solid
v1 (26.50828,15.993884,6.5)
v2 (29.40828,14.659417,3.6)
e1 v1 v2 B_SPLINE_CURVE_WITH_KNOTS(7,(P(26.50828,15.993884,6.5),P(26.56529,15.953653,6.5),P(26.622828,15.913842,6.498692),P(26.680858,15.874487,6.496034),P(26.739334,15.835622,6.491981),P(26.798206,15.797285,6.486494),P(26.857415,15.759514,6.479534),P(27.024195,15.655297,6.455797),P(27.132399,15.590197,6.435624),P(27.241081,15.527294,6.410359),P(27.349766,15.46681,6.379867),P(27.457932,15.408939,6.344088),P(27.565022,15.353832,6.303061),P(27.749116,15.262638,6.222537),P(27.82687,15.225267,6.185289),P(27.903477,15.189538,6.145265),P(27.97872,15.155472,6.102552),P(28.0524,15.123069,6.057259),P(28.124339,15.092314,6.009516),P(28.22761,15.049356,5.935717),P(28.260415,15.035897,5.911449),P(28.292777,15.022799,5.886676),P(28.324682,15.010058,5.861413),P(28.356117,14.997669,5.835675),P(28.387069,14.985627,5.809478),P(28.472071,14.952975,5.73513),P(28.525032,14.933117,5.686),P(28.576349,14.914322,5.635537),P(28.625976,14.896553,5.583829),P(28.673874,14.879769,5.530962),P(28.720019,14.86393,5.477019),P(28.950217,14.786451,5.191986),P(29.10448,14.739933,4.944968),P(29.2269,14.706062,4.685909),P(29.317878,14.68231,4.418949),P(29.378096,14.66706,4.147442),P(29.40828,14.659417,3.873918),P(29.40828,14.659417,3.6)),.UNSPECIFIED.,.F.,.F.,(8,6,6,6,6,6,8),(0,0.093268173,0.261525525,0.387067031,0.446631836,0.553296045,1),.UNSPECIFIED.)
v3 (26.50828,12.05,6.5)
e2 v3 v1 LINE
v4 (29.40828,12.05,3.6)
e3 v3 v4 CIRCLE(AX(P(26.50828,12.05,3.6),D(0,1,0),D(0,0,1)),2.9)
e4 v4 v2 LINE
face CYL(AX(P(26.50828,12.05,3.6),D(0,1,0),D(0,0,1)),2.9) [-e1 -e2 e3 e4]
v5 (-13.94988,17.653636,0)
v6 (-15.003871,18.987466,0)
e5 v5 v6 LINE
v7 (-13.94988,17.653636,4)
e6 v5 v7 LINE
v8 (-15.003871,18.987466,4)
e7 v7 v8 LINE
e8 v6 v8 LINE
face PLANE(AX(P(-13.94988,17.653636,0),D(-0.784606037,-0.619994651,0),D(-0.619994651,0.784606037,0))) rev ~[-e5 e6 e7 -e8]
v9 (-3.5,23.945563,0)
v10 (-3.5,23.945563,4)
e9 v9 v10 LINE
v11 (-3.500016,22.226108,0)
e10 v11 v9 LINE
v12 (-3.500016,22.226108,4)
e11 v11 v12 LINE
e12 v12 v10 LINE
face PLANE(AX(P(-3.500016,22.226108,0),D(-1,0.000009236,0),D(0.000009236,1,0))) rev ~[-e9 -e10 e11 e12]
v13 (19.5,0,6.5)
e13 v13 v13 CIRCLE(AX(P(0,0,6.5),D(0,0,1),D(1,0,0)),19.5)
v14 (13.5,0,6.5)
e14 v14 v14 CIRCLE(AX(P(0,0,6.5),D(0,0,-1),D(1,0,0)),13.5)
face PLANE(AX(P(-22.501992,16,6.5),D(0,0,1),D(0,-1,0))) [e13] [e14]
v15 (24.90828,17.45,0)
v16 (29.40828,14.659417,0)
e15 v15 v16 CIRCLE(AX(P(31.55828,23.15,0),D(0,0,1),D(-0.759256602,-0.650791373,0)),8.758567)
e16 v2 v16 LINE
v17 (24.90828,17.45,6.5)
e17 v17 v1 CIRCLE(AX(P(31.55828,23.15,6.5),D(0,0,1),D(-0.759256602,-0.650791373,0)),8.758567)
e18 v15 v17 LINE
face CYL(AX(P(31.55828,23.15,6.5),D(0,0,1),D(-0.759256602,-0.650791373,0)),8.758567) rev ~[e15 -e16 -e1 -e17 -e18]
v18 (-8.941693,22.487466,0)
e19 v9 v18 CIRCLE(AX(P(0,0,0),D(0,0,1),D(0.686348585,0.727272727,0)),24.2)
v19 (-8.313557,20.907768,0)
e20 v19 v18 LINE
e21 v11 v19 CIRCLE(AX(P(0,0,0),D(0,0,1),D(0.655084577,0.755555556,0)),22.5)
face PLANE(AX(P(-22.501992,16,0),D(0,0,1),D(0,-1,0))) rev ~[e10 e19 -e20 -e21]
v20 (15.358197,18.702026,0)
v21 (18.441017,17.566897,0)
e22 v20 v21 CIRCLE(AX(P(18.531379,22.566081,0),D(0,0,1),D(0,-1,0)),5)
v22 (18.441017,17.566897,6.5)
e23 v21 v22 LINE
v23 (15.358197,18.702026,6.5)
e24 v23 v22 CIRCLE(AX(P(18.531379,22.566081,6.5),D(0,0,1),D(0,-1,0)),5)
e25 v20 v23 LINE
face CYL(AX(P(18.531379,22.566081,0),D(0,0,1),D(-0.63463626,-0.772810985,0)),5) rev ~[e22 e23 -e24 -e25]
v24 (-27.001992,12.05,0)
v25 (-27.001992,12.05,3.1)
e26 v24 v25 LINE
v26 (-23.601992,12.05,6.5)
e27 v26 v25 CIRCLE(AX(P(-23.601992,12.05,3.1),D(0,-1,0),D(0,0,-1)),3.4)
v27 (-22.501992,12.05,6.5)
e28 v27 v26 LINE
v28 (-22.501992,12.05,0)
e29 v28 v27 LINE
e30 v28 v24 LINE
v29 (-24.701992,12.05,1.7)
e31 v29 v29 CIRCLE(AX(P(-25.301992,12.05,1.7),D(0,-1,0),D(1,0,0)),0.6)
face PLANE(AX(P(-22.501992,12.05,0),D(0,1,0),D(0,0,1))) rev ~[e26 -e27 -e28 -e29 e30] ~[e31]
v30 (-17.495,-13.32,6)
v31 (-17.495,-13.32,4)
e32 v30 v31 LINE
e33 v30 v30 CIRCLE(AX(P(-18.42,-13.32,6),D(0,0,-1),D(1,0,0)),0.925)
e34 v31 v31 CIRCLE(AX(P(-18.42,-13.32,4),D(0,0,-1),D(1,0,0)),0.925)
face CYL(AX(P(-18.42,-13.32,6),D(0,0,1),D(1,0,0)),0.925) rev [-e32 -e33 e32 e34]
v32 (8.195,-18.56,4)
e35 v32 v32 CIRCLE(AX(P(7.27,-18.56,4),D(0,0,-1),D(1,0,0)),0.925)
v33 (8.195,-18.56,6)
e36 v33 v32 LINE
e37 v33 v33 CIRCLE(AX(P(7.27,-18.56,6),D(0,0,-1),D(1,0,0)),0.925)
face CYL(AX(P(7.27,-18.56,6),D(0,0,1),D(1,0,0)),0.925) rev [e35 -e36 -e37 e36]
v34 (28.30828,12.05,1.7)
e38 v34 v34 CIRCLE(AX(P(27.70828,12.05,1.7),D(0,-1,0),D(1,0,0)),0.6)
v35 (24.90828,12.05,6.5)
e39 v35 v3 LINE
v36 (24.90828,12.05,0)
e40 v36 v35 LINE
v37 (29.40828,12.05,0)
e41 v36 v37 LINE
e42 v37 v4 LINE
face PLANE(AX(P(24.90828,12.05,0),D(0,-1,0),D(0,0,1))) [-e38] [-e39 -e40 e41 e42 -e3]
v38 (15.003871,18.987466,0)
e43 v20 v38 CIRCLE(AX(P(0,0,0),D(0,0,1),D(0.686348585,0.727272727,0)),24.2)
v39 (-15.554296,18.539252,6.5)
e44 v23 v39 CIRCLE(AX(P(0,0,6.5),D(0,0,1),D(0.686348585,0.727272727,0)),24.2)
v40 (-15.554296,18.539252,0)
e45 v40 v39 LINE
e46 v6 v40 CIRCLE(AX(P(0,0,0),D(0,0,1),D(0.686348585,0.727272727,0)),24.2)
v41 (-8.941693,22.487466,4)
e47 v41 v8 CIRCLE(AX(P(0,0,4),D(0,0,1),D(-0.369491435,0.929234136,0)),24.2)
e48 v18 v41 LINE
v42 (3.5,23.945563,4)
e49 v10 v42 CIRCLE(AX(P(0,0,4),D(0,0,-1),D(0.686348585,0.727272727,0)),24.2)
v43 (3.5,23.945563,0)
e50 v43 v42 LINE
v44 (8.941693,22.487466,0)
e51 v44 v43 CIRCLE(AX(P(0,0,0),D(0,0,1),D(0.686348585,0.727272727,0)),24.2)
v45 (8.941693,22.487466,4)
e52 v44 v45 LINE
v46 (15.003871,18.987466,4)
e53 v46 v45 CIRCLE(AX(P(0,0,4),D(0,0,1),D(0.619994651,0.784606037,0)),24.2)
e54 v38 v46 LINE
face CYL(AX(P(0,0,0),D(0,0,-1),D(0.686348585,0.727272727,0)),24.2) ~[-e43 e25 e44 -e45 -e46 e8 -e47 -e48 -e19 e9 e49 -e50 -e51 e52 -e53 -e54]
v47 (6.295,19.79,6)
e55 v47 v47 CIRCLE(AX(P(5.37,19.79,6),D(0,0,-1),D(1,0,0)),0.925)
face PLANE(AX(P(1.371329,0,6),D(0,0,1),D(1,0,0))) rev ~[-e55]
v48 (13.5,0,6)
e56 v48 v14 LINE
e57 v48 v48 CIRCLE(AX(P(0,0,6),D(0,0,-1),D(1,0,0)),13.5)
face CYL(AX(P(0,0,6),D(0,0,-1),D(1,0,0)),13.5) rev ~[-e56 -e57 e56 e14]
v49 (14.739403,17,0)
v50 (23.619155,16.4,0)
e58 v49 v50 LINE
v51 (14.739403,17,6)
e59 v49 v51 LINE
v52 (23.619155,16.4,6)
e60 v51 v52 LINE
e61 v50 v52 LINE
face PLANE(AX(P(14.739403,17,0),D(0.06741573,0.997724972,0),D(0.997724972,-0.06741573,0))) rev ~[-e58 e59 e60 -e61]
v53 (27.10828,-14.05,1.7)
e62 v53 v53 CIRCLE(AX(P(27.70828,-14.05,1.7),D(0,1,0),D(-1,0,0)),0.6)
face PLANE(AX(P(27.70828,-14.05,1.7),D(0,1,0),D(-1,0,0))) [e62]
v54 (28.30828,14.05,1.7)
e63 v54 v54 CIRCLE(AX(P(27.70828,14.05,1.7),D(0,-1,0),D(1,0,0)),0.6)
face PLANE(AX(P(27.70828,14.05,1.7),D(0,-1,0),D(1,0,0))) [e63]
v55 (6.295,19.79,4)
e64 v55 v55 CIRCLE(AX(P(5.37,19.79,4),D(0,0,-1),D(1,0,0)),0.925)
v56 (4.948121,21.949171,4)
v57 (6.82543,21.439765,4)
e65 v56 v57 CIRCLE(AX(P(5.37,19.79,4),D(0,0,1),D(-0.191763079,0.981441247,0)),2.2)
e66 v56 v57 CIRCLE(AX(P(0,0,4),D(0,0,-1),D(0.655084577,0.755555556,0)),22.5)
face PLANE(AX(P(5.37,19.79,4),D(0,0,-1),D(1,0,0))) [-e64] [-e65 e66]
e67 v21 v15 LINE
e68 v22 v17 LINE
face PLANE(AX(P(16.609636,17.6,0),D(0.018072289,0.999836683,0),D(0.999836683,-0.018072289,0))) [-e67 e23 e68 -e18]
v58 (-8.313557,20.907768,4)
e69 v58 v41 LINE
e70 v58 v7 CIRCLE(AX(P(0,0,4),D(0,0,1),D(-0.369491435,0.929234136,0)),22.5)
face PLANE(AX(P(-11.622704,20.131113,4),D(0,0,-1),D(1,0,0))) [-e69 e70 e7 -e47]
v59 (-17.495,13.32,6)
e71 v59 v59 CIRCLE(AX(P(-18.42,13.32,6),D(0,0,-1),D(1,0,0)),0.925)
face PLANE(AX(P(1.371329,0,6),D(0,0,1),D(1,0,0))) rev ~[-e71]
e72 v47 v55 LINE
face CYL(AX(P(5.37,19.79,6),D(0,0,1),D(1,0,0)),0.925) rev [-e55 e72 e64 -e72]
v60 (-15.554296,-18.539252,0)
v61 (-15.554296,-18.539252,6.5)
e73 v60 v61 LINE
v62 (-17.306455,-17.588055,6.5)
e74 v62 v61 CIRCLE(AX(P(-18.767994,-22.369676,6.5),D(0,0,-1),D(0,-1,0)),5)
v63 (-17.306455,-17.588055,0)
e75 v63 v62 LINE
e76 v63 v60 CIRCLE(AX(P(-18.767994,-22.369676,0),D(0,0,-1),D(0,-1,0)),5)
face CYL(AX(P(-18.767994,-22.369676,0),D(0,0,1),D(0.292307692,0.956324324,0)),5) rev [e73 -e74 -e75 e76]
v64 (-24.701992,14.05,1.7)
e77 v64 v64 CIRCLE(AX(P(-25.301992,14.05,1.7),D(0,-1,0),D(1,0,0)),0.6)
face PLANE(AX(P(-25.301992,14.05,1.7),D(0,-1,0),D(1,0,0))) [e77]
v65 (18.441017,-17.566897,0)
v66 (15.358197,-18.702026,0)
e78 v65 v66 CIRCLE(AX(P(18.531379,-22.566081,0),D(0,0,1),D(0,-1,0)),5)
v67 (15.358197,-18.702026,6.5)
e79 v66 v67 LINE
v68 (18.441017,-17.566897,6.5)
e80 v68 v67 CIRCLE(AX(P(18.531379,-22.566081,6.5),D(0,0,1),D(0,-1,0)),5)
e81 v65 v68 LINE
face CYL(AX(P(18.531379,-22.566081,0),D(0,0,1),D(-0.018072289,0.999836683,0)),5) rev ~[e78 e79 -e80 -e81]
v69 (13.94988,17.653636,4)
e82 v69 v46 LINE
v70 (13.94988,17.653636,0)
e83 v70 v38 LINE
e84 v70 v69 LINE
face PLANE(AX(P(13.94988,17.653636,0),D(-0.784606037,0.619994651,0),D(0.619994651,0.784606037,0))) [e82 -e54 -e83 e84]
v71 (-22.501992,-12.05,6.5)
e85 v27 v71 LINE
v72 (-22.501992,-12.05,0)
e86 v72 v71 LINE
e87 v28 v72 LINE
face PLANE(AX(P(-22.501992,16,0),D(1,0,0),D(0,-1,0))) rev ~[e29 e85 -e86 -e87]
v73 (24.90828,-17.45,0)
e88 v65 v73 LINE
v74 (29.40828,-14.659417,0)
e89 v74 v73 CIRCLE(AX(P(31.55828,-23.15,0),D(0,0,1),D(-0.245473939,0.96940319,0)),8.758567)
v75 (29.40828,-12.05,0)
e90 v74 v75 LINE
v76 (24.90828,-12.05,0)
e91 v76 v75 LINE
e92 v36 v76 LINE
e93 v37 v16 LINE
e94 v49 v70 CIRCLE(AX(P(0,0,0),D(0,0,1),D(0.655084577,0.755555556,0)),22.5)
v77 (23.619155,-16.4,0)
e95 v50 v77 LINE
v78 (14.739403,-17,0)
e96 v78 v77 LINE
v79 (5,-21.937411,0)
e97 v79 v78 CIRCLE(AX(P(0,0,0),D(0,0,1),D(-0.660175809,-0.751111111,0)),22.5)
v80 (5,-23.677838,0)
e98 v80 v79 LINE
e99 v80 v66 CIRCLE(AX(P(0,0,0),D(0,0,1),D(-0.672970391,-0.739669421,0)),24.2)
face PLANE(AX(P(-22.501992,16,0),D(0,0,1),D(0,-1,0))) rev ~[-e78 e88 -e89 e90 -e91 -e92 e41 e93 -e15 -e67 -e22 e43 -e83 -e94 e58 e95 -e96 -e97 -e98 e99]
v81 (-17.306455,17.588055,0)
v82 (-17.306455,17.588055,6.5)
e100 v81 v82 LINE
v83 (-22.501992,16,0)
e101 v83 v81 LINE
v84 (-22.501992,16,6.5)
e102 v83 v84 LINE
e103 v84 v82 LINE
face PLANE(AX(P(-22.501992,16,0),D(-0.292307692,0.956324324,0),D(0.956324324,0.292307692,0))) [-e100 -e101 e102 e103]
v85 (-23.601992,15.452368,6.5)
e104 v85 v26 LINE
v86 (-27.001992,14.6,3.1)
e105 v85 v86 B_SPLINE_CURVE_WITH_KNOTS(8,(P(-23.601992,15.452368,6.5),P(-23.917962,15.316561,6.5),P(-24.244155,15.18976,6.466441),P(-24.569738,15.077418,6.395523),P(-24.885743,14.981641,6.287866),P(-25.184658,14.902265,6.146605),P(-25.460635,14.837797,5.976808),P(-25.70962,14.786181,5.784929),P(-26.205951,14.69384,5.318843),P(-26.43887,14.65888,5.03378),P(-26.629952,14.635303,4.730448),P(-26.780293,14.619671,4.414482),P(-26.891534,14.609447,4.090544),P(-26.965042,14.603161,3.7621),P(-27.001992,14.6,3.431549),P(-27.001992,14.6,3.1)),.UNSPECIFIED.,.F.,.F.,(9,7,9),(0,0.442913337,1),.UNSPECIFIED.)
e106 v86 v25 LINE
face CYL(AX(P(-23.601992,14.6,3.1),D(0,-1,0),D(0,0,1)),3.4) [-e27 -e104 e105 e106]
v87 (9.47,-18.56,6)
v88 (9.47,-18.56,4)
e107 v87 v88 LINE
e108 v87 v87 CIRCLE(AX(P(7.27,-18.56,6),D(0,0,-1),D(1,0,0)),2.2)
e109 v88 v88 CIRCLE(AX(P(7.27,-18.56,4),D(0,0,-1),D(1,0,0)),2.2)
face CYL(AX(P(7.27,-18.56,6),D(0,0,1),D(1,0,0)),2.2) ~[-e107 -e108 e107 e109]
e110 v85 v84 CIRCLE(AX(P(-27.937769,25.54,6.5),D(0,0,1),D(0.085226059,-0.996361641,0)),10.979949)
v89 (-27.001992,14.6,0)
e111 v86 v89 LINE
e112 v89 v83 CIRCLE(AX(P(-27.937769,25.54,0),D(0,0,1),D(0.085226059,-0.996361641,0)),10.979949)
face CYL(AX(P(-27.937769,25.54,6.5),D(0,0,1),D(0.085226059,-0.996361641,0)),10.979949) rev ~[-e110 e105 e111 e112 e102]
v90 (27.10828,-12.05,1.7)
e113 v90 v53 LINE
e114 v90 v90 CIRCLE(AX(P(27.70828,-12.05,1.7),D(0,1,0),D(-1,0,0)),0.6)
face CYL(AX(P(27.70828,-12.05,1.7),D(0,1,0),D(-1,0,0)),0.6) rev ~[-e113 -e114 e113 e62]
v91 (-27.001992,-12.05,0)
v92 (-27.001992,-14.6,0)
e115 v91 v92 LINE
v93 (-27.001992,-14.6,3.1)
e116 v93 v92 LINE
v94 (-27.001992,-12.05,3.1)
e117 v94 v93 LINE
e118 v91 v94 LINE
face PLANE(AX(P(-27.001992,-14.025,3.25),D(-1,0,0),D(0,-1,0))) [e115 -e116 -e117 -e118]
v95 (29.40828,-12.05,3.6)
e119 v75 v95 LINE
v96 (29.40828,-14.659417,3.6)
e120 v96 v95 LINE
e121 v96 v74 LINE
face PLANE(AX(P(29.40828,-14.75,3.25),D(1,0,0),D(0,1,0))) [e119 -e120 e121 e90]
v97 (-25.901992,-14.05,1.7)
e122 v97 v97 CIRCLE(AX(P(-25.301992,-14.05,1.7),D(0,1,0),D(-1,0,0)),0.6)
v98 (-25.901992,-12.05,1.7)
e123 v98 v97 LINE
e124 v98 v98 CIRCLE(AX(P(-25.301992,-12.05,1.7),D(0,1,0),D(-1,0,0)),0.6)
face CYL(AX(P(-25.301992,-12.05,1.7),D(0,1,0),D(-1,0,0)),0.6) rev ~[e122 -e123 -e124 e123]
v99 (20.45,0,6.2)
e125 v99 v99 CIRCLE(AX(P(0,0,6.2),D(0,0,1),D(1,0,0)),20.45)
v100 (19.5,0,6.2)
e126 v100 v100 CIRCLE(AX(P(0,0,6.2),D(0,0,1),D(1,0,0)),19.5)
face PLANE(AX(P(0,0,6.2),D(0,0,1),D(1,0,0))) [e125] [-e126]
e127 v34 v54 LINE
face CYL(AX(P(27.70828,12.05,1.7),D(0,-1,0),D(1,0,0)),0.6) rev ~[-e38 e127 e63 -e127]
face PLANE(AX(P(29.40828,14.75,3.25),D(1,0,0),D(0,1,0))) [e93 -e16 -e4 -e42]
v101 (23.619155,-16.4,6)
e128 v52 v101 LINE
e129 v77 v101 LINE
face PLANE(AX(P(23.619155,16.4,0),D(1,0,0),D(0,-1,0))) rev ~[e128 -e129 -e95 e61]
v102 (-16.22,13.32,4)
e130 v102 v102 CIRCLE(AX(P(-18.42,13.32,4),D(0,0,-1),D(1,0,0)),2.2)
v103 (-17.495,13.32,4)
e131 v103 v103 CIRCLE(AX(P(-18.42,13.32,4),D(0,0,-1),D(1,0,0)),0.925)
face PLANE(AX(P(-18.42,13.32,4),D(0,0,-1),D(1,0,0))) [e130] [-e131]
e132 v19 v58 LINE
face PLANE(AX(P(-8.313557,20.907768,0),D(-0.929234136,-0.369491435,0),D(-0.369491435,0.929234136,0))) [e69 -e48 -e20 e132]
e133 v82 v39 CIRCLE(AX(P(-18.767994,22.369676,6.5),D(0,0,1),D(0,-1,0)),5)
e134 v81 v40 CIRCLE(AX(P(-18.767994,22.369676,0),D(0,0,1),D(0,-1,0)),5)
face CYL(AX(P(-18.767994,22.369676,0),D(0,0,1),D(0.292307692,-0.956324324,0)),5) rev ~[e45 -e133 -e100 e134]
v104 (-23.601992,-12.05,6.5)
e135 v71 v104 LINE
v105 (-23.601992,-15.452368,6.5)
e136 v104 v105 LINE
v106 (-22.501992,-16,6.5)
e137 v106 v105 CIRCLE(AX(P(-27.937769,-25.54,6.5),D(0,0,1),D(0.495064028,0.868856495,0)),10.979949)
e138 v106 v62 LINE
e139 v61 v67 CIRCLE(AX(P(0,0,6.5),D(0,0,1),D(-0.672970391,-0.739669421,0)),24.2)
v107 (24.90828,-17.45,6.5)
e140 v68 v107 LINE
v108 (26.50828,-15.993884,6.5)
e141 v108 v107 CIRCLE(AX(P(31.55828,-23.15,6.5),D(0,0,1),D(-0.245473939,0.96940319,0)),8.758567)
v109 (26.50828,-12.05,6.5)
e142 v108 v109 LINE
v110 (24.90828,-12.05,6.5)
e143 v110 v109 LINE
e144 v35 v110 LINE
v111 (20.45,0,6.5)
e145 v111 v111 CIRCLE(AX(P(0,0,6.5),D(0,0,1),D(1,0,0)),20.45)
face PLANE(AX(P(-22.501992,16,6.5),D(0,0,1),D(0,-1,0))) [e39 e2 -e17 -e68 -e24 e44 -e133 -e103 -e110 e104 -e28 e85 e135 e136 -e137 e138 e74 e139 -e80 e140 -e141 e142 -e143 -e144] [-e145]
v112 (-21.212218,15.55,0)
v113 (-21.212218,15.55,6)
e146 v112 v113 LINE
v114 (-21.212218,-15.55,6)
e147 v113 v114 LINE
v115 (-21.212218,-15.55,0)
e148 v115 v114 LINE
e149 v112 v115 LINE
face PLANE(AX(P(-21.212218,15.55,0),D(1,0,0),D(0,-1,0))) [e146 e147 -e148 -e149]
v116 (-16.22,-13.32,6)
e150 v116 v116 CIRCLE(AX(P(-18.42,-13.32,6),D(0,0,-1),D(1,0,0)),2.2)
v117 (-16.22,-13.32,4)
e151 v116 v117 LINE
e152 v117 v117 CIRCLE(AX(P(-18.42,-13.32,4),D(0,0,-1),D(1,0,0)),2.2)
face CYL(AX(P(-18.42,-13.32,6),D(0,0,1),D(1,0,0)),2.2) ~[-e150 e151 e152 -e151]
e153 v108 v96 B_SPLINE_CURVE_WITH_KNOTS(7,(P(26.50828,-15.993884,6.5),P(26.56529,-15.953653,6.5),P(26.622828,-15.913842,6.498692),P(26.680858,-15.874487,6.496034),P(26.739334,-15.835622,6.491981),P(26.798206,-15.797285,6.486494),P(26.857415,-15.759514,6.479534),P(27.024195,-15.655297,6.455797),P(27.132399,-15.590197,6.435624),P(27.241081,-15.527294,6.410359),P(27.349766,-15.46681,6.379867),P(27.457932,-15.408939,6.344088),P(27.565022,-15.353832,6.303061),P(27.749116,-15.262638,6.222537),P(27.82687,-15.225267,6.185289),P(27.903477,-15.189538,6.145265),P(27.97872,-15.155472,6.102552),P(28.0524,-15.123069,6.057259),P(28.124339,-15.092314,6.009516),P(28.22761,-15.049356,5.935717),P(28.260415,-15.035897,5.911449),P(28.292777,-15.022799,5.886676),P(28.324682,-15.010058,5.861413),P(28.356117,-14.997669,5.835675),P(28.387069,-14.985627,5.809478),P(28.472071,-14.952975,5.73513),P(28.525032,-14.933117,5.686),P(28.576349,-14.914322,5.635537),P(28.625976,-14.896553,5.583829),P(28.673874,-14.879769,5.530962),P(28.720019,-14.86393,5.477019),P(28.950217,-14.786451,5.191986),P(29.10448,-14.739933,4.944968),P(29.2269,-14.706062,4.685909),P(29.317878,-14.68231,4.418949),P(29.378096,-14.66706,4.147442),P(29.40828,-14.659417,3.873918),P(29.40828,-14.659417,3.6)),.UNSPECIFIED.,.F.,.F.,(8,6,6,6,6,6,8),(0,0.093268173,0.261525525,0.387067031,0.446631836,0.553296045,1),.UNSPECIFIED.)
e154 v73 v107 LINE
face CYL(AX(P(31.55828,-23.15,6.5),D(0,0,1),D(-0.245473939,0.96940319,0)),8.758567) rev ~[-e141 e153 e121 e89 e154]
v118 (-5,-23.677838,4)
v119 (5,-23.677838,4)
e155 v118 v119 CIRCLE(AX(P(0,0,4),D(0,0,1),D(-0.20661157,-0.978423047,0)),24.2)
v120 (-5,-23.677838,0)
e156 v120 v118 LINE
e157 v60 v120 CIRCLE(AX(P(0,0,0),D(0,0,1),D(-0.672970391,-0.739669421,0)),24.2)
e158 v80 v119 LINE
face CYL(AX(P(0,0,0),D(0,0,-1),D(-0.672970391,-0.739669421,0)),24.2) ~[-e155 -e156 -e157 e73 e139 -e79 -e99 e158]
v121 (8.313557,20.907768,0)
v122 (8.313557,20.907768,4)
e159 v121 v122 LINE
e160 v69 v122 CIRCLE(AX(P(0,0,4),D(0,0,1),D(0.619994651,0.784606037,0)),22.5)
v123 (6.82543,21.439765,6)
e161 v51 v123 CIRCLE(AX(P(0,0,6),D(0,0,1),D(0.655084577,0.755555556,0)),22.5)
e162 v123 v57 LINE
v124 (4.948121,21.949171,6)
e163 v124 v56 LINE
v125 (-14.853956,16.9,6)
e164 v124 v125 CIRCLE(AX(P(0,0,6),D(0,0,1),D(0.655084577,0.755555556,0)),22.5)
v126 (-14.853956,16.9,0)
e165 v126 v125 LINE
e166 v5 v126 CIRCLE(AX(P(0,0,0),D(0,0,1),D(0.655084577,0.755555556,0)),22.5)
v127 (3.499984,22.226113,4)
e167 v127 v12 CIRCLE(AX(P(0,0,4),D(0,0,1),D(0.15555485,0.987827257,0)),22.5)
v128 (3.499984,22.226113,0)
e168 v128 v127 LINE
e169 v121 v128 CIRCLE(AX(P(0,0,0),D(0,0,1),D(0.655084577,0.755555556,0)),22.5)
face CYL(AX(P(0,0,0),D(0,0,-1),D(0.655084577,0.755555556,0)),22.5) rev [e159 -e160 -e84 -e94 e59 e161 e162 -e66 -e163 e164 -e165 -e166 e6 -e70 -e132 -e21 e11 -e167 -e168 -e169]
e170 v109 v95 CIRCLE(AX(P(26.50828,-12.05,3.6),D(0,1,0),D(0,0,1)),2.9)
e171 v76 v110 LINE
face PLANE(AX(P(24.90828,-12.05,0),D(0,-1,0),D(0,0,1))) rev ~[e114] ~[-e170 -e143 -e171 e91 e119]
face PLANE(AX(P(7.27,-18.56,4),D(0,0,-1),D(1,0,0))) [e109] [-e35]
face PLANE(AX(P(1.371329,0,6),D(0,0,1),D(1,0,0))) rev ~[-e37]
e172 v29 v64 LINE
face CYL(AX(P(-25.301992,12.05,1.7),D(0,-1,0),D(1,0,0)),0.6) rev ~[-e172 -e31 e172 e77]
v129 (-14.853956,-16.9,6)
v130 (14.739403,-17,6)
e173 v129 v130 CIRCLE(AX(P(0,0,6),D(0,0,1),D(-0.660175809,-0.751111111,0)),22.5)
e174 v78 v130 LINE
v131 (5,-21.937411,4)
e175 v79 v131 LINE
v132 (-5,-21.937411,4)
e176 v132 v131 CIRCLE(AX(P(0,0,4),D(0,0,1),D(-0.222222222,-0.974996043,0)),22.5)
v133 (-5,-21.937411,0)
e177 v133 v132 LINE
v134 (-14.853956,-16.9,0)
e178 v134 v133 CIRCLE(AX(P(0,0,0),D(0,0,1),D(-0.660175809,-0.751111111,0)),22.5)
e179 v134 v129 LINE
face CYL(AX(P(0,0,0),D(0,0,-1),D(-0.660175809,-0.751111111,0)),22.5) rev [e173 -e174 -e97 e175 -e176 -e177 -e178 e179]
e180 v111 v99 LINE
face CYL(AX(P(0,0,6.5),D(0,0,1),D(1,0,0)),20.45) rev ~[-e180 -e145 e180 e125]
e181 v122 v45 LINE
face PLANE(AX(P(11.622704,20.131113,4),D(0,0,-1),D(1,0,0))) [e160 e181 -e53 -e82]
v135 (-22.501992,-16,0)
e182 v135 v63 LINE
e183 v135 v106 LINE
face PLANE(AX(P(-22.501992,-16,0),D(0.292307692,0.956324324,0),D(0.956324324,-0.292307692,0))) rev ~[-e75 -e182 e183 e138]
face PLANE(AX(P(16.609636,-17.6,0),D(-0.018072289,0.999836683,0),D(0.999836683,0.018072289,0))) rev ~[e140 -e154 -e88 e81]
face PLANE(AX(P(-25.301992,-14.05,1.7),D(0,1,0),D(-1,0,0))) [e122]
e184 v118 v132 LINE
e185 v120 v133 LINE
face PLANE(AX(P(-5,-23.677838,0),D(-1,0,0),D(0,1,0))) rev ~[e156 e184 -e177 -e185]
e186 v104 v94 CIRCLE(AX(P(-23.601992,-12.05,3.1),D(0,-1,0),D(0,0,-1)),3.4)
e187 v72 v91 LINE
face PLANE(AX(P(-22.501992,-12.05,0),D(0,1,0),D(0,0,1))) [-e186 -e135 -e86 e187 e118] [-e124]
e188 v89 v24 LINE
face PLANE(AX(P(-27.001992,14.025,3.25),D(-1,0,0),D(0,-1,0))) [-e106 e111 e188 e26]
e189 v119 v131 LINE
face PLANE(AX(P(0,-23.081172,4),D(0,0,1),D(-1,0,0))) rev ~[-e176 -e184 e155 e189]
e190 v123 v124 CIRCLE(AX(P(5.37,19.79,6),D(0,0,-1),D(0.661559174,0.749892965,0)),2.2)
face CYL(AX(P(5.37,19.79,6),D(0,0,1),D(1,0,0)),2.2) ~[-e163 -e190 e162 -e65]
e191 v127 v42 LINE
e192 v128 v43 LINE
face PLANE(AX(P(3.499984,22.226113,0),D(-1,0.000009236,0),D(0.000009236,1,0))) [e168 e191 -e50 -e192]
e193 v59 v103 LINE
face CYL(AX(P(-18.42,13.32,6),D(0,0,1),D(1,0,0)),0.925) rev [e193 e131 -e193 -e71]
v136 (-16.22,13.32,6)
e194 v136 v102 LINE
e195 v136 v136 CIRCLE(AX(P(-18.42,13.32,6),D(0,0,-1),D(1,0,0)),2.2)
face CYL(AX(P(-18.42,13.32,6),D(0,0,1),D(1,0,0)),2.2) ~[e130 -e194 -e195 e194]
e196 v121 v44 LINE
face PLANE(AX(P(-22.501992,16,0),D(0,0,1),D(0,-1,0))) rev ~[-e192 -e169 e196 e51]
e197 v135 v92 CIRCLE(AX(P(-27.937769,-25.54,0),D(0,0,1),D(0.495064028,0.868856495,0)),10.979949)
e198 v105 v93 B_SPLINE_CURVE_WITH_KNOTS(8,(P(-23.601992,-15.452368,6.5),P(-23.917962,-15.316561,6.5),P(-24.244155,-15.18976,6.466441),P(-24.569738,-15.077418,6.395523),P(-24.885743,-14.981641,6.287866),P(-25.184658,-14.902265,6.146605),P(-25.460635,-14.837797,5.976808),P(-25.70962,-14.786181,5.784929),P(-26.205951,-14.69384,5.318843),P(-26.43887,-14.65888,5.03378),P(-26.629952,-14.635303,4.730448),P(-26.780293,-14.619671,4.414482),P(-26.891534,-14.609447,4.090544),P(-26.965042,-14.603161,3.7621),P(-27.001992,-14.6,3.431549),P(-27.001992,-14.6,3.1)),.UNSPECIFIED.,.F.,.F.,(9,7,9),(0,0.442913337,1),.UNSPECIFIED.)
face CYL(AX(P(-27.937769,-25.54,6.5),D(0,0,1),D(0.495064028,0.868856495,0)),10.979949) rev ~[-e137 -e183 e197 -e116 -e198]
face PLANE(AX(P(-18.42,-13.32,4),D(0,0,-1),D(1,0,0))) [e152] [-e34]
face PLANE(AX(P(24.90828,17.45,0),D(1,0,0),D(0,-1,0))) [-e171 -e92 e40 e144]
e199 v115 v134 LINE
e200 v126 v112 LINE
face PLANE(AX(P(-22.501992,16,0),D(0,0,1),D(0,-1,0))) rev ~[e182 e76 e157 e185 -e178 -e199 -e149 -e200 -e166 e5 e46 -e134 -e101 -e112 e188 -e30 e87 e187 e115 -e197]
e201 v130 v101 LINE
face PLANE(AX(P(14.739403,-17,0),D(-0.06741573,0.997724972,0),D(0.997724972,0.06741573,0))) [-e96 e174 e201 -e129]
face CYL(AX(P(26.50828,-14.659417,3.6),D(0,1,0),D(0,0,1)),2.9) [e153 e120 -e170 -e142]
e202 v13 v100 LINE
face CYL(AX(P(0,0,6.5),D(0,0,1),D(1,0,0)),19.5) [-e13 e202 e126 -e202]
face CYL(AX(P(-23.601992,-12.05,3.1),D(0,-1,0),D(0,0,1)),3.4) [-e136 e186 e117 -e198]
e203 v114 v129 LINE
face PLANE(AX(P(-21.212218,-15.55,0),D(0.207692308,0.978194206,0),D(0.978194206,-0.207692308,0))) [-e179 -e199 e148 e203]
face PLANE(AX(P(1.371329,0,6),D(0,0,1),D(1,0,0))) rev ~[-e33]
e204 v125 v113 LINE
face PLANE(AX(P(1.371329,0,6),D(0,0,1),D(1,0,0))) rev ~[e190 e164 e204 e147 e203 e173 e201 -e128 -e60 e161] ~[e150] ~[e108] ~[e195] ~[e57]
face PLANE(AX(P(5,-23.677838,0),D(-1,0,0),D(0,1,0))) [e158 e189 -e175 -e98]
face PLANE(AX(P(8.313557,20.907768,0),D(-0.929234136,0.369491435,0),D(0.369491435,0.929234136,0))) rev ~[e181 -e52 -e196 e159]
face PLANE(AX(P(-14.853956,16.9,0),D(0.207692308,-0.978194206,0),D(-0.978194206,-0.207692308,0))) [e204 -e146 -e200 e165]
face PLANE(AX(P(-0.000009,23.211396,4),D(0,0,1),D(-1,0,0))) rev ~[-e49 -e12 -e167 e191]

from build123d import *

# Parameters (mm, degrees)
PAD_DEPTH       = 6.5
POCKET_DEPTH    = 6
SKETCH002_R     = 13.5
POCKET001_DEPTH = 1
SKETCH003_W     = 5.4
SKETCH003_H     = 6.5
PAD001_DEPTH    = 4.5
POCKET002_DEPTH = 10
SKETCH008_R     = 0.6
POCKET003_DEPTH = 2
SKETCH009_R     = 0.6
POCKET004_DEPTH = 2
FILLET_R        = 2.9
FILLET001_R     = 2.9
FILLET002_R     = 5
FILLET003_R     = 5
FILLET004_R     = 5
FILLET005_R     = 5
SKETCH010_W     = 3.95
SKETCH010_H     = 6.5
PAD002_DEPTH    = 4.5
POCKET005_DEPTH = 10
SKETCH012_R     = 0.6
POCKET006_DEPTH = 2
SKETCH013_R     = 0.6
POCKET007_DEPTH = 2
FILLET006_R     = 3.4
FILLET007_R     = 3.4
SKETCH014_R     = 20.45
SKETCH014_R_2   = 19.5
POCKET008_DEPTH = 0.3
SKETCH015_R     = 2.2
SKETCH015_R_2   = 0.925
PAD003_DEPTH    = 2
POCKET009_DEPTH = 4
POCKET010_DEPTH = 4


with BuildPart() as part:
    # Sketch → Pad (new body)
    with BuildSketch(Plane.XY):
        with BuildLine():
            Line((-22.5019915649, 16), (-22.5019915649, -16))
            Line((-22.5019915649, -16), (-16.2858834578, -17.9000000001))
            ThreePointArc((-16.2858834577, -17.9000000001), (0.2206895737, -24.1989937004), (16.6096357576, -17.5999999999))
            Line((16.6096357576, -17.5999999999), (24.9082802252, -17.45))
            Line((24.9082802252, 17.45), (24.9082802252, -17.45))
            Line((16.6096357576, 17.6), (24.9082802252, 17.45))
            ThreePointArc((16.6096357576, 17.6), (0.2206895736, 24.1989937004), (-16.2858834578, 17.9))
            Line((-22.5019915649, 16), (-16.2858834578, 17.9))
        make_face()
    extrude(amount=PAD_DEPTH)

    # Sketch001 → Pocket (cut)
    with BuildSketch(Plane.XY):
        with BuildLine():
            Line((-14.8539557021, 16.9), (-21.2122180433, 15.55))
            Line((-21.2122180433, 15.55), (-21.2122180433, -15.55))
            Line((-21.2122180433, -15.55), (-14.8539557021, -16.9))
            ThreePointArc((-14.8539557021, -16.9), (-0.0760301383, -22.4998715423), (14.739402973, -17))
            Line((14.739402973, -17), (23.6191552218, -16.4))
            Line((23.6191552218, 16.4), (23.6191552218, -16.4))
            Line((14.739402973, 17), (23.6191552218, 16.4))
            ThreePointArc((14.739402973, 17), (-0.0760301383, 22.4998715423), (-14.8539557021, 16.9))
        make_face()
    extrude(amount=POCKET_DEPTH, mode=Mode.SUBTRACT)

    # Sketch002 (on Face19 of Pocket) → Pocket001 (cut)
    with BuildSketch(Plane(origin=(0, 0, 6), x_dir=(1, 0, 0), z_dir=(0, 0, -1))):
        Circle(SKETCH002_R)
    extrude(amount=-POCKET001_DEPTH, mode=Mode.SUBTRACT)

    # Sketch003 (on Face6 of Pocket001) → Pad001 (join)
    with BuildSketch(Plane.YZ.offset(24.9082802252)):
        with Locations((-14.75, 3.25)):
            Rectangle(SKETCH003_W, SKETCH003_H)
        with Locations((14.75, 3.25)):
            Rectangle(SKETCH003_W, SKETCH003_H)
    extrude(amount=PAD001_DEPTH)

    # Sketch006 → Pocket002 (cut)
    with BuildSketch(Plane.XY.offset(6.5)):
        with BuildLine():
            ThreePointArc((24.9082802253, 17.45), (26.9423471239, 15.7065020586), (29.4082802252, 14.6594169812))
            Line((29.4082802252, 17.45), (29.4082802252, 14.6594169812))
            Line((29.4082802252, 17.45), (24.9082802252, 17.45))
        make_face()
        with BuildLine():
            ThreePointArc((29.4082802253, -14.6594169812), (26.9423471239, -15.7065020586), (24.9082802253, -17.45))
            Line((29.4082802252, -17.45), (24.9082802252, -17.45))
            Line((29.4082802253, -14.6594169811), (29.4082802252, -17.45))
        make_face()
    extrude(amount=-POCKET002_DEPTH, mode=Mode.SUBTRACT)

    # Sketch008 (on Face27 of Pocket002) → Pocket003 (cut)
    with BuildSketch(Plane(origin=(0, -12.05, 0), x_dir=(-1, 0, 0), z_dir=(0, 1, 0))):
        with Locations((-27.7082802252, 1.7)):
            Circle(SKETCH008_R)
    extrude(amount=-POCKET003_DEPTH, mode=Mode.SUBTRACT)

    # Sketch009 (on Face26 of Pocket003) → Pocket004 (cut)
    with BuildSketch(Plane.XZ.offset(-12.05)):
        with Locations((27.7082802252, 1.7)):
            Circle(SKETCH009_R)
    extrude(amount=-POCKET004_DEPTH, mode=Mode.SUBTRACT)

    # Fillet
    fillet_edges = [part.edges().sort_by_distance(p)[0] for p in [
        (29.40828, -13.354708, 6.5),
    ]]
    fillet(fillet_edges, radius=FILLET_R)

    # Fillet001
    fillet001_edges = [part.edges().sort_by_distance(p)[0] for p in [
        (29.40828, 13.354708, 6.5),
    ]]
    fillet(fillet001_edges, radius=FILLET001_R)

    # Fillet002
    fillet002_edges = [part.edges().sort_by_distance(p)[0] for p in [
        (16.609636, -17.6, 3.25),
    ]]
    fillet(fillet002_edges, radius=FILLET002_R)

    # Fillet003
    fillet003_edges = [part.edges().sort_by_distance(p)[0] for p in [
        (16.609636, 17.6, 3.25),
    ]]
    fillet(fillet003_edges, radius=FILLET003_R)

    # Fillet004
    fillet004_edges = [part.edges().sort_by_distance(p)[0] for p in [
        (-16.285883, -17.9, 3.25),
    ]]
    fillet(fillet004_edges, radius=FILLET004_R)

    # Fillet005
    fillet005_edges = [part.edges().sort_by_distance(p)[0] for p in [
        (-16.285883, 17.9, 3.25),
    ]]
    fillet(fillet005_edges, radius=FILLET005_R)

    # Sketch010 (on Face4 of Fillet005) → Pad002 (join)
    with BuildSketch(Plane(origin=(-22.5019915649, 0, 0), x_dir=(0, -1, 0), z_dir=(-1, 0, 0))):
        with Locations((-14.025, 3.25)):
            Rectangle(SKETCH010_W, SKETCH010_H)
        with Locations((14.025, 3.25)):
            Rectangle(SKETCH010_W, SKETCH010_H)
    extrude(amount=PAD002_DEPTH)

    # Sketch011 (on Face6 of Pad002) → Pocket005 (cut)
    with BuildSketch(Plane.XY.offset(6.5)):
        with BuildLine():
            ThreePointArc((-27.0019915649, 14.6), (-24.6759937451, 15.0557212933), (-22.5019915649, 16))
            Line((-22.5019915649, 16), (-27.0019915649, 16))
            Line((-27.0019915649, 16), (-27.0019915649, 14.6))
        make_face()
        with BuildLine():
            ThreePointArc((-22.5019915649, -16), (-24.6759937451, -15.0557212933), (-27.0019915649, -14.6))
            Line((-27.0019915649, -14.6), (-27.0019915649, -16))
            Line((-27.0019915649, -16), (-22.5019915649, -16))
        make_face()
    extrude(amount=-POCKET005_DEPTH, mode=Mode.SUBTRACT)

    # Sketch012 (on Face23 of Pocket005) → Pocket006 (cut)
    with BuildSketch(Plane(origin=(0, -12.05, 0), x_dir=(-1, 0, 0), z_dir=(0, 1, 0))):
        with Locations((25.3019915649, 1.7)):
            Circle(SKETCH012_R)
    extrude(amount=-POCKET006_DEPTH, mode=Mode.SUBTRACT)

    # Sketch013 (on Face21 of Pocket006) → Pocket007 (cut)
    with BuildSketch(Plane.XZ.offset(-12.05)):
        with Locations((-25.3019915649, 1.7)):
            Circle(SKETCH013_R)
    extrude(amount=-POCKET007_DEPTH, mode=Mode.SUBTRACT)

    # Fillet006
    fillet006_edges = [part.edges().sort_by_distance(p)[0] for p in [
        (-27.001992, 13.325, 6.5),
    ]]
    fillet(fillet006_edges, radius=FILLET006_R)

    # Fillet007
    fillet007_edges = [part.edges().sort_by_distance(p)[0] for p in [
        (-27.001992, -13.325, 6.5),
    ]]
    fillet(fillet007_edges, radius=FILLET007_R)

    # Sketch014 (on Face4 of Fillet007) → Pocket008 (cut)
    with BuildSketch(Plane.XY.offset(6.5)):
        Circle(SKETCH014_R)
        Circle(SKETCH014_R_2, mode=Mode.SUBTRACT)
    extrude(amount=-POCKET008_DEPTH, mode=Mode.SUBTRACT)

    # Sketch015 (on Face55 of Pocket008) → Pad003 (join)
    with BuildSketch(Plane(origin=(0, 0, 6), x_dir=(1, 0, 0), z_dir=(0, 0, -1))):
        with Locations((-18.42, 13.32)):
            Circle(SKETCH015_R)
        with Locations((-18.42, 13.32)):
            Circle(SKETCH015_R_2, mode=Mode.SUBTRACT)
        with Locations((7.27, 18.56)):
            Circle(SKETCH015_R)
        with Locations((7.27, 18.56)):
            Circle(SKETCH015_R_2, mode=Mode.SUBTRACT)
        with Locations((5.37, -19.79)):
            Circle(SKETCH015_R)
        with Locations((5.37, -19.79)):
            Circle(SKETCH015_R_2, mode=Mode.SUBTRACT)
        with Locations((-18.42, -13.32)):
            Circle(SKETCH015_R)
        with Locations((-18.42, -13.32)):
            Circle(SKETCH015_R_2, mode=Mode.SUBTRACT)
    extrude(amount=PAD003_DEPTH)

    # Sketch016 → Pocket009 (cut)
    with BuildSketch(Plane(origin=(0, 0, 0), x_dir=(-1, 0, 0), z_dir=(0, 0, 1))):
        with BuildLine():
            Line((-5, 23.6778377391), (-5, 21.9374109685))
            ThreePointArc((5, 21.9374109685), (0, 22.5), (-5, 21.9374109685))
            Line((5, 23.6778377391), (5, 21.9374109685))
            ThreePointArc((5, 23.6778377391), (0, 24.2), (-5, 23.6778377391))
        make_face()
    extrude(amount=POCKET009_DEPTH, mode=Mode.SUBTRACT)

    # Sketch017 → Pocket010 (cut)
    with BuildSketch(Plane(origin=(0, 0, 0), x_dir=(-1, 0, 0), z_dir=(0, 0, 1))):
        with BuildLine():
            Line((-3.499984119, -22.2261132717), (-3.5, -23.9455632634))
            ThreePointArc((-3.5, -23.9455632634), (0, -24.2000019575), (3.5, -23.9455632634))
            Line((3.5000158811, -22.2261082701), (3.5, -23.9455632634))
            ThreePointArc((-3.499984119, -22.2261132717), (1.60767e-05, -22.5), (3.5000158811, -22.2261082701))
        make_face()
        with BuildLine():
            ThreePointArc((-13.9498796389, -17.6536358312), (-11.25, -19.4855715851), (-8.3135572795, -20.9077680626))
            Line((-8.3135572795, -20.9077680626), (-8.9416927184, -22.487466094))
            ThreePointArc((-15.0038705449, -18.987466094), (-12.1, -20.9578147716), (-8.9416927184, -22.487466094))
            Line((-13.9498796389, -17.6536358312), (-15.0038705449, -18.987466094))
        make_face()
        with BuildLine():
            ThreePointArc((8.3135572795, -20.9077680626), (11.25, -19.4855715851), (13.9498796389, -17.6536358312))
            Line((13.9498796389, -17.6536358312), (15.0038705449, -18.987466094))
            ThreePointArc((8.9416927184, -22.487466094), (12.1, -20.9578147716), (15.0038705449, -18.987466094))
            Line((8.3135572795, -20.9077680626), (8.9416927184, -22.487466094))
        make_face()
    extrude(amount=POCKET010_DEPTH, mode=Mode.SUBTRACT)


solid = part.part
